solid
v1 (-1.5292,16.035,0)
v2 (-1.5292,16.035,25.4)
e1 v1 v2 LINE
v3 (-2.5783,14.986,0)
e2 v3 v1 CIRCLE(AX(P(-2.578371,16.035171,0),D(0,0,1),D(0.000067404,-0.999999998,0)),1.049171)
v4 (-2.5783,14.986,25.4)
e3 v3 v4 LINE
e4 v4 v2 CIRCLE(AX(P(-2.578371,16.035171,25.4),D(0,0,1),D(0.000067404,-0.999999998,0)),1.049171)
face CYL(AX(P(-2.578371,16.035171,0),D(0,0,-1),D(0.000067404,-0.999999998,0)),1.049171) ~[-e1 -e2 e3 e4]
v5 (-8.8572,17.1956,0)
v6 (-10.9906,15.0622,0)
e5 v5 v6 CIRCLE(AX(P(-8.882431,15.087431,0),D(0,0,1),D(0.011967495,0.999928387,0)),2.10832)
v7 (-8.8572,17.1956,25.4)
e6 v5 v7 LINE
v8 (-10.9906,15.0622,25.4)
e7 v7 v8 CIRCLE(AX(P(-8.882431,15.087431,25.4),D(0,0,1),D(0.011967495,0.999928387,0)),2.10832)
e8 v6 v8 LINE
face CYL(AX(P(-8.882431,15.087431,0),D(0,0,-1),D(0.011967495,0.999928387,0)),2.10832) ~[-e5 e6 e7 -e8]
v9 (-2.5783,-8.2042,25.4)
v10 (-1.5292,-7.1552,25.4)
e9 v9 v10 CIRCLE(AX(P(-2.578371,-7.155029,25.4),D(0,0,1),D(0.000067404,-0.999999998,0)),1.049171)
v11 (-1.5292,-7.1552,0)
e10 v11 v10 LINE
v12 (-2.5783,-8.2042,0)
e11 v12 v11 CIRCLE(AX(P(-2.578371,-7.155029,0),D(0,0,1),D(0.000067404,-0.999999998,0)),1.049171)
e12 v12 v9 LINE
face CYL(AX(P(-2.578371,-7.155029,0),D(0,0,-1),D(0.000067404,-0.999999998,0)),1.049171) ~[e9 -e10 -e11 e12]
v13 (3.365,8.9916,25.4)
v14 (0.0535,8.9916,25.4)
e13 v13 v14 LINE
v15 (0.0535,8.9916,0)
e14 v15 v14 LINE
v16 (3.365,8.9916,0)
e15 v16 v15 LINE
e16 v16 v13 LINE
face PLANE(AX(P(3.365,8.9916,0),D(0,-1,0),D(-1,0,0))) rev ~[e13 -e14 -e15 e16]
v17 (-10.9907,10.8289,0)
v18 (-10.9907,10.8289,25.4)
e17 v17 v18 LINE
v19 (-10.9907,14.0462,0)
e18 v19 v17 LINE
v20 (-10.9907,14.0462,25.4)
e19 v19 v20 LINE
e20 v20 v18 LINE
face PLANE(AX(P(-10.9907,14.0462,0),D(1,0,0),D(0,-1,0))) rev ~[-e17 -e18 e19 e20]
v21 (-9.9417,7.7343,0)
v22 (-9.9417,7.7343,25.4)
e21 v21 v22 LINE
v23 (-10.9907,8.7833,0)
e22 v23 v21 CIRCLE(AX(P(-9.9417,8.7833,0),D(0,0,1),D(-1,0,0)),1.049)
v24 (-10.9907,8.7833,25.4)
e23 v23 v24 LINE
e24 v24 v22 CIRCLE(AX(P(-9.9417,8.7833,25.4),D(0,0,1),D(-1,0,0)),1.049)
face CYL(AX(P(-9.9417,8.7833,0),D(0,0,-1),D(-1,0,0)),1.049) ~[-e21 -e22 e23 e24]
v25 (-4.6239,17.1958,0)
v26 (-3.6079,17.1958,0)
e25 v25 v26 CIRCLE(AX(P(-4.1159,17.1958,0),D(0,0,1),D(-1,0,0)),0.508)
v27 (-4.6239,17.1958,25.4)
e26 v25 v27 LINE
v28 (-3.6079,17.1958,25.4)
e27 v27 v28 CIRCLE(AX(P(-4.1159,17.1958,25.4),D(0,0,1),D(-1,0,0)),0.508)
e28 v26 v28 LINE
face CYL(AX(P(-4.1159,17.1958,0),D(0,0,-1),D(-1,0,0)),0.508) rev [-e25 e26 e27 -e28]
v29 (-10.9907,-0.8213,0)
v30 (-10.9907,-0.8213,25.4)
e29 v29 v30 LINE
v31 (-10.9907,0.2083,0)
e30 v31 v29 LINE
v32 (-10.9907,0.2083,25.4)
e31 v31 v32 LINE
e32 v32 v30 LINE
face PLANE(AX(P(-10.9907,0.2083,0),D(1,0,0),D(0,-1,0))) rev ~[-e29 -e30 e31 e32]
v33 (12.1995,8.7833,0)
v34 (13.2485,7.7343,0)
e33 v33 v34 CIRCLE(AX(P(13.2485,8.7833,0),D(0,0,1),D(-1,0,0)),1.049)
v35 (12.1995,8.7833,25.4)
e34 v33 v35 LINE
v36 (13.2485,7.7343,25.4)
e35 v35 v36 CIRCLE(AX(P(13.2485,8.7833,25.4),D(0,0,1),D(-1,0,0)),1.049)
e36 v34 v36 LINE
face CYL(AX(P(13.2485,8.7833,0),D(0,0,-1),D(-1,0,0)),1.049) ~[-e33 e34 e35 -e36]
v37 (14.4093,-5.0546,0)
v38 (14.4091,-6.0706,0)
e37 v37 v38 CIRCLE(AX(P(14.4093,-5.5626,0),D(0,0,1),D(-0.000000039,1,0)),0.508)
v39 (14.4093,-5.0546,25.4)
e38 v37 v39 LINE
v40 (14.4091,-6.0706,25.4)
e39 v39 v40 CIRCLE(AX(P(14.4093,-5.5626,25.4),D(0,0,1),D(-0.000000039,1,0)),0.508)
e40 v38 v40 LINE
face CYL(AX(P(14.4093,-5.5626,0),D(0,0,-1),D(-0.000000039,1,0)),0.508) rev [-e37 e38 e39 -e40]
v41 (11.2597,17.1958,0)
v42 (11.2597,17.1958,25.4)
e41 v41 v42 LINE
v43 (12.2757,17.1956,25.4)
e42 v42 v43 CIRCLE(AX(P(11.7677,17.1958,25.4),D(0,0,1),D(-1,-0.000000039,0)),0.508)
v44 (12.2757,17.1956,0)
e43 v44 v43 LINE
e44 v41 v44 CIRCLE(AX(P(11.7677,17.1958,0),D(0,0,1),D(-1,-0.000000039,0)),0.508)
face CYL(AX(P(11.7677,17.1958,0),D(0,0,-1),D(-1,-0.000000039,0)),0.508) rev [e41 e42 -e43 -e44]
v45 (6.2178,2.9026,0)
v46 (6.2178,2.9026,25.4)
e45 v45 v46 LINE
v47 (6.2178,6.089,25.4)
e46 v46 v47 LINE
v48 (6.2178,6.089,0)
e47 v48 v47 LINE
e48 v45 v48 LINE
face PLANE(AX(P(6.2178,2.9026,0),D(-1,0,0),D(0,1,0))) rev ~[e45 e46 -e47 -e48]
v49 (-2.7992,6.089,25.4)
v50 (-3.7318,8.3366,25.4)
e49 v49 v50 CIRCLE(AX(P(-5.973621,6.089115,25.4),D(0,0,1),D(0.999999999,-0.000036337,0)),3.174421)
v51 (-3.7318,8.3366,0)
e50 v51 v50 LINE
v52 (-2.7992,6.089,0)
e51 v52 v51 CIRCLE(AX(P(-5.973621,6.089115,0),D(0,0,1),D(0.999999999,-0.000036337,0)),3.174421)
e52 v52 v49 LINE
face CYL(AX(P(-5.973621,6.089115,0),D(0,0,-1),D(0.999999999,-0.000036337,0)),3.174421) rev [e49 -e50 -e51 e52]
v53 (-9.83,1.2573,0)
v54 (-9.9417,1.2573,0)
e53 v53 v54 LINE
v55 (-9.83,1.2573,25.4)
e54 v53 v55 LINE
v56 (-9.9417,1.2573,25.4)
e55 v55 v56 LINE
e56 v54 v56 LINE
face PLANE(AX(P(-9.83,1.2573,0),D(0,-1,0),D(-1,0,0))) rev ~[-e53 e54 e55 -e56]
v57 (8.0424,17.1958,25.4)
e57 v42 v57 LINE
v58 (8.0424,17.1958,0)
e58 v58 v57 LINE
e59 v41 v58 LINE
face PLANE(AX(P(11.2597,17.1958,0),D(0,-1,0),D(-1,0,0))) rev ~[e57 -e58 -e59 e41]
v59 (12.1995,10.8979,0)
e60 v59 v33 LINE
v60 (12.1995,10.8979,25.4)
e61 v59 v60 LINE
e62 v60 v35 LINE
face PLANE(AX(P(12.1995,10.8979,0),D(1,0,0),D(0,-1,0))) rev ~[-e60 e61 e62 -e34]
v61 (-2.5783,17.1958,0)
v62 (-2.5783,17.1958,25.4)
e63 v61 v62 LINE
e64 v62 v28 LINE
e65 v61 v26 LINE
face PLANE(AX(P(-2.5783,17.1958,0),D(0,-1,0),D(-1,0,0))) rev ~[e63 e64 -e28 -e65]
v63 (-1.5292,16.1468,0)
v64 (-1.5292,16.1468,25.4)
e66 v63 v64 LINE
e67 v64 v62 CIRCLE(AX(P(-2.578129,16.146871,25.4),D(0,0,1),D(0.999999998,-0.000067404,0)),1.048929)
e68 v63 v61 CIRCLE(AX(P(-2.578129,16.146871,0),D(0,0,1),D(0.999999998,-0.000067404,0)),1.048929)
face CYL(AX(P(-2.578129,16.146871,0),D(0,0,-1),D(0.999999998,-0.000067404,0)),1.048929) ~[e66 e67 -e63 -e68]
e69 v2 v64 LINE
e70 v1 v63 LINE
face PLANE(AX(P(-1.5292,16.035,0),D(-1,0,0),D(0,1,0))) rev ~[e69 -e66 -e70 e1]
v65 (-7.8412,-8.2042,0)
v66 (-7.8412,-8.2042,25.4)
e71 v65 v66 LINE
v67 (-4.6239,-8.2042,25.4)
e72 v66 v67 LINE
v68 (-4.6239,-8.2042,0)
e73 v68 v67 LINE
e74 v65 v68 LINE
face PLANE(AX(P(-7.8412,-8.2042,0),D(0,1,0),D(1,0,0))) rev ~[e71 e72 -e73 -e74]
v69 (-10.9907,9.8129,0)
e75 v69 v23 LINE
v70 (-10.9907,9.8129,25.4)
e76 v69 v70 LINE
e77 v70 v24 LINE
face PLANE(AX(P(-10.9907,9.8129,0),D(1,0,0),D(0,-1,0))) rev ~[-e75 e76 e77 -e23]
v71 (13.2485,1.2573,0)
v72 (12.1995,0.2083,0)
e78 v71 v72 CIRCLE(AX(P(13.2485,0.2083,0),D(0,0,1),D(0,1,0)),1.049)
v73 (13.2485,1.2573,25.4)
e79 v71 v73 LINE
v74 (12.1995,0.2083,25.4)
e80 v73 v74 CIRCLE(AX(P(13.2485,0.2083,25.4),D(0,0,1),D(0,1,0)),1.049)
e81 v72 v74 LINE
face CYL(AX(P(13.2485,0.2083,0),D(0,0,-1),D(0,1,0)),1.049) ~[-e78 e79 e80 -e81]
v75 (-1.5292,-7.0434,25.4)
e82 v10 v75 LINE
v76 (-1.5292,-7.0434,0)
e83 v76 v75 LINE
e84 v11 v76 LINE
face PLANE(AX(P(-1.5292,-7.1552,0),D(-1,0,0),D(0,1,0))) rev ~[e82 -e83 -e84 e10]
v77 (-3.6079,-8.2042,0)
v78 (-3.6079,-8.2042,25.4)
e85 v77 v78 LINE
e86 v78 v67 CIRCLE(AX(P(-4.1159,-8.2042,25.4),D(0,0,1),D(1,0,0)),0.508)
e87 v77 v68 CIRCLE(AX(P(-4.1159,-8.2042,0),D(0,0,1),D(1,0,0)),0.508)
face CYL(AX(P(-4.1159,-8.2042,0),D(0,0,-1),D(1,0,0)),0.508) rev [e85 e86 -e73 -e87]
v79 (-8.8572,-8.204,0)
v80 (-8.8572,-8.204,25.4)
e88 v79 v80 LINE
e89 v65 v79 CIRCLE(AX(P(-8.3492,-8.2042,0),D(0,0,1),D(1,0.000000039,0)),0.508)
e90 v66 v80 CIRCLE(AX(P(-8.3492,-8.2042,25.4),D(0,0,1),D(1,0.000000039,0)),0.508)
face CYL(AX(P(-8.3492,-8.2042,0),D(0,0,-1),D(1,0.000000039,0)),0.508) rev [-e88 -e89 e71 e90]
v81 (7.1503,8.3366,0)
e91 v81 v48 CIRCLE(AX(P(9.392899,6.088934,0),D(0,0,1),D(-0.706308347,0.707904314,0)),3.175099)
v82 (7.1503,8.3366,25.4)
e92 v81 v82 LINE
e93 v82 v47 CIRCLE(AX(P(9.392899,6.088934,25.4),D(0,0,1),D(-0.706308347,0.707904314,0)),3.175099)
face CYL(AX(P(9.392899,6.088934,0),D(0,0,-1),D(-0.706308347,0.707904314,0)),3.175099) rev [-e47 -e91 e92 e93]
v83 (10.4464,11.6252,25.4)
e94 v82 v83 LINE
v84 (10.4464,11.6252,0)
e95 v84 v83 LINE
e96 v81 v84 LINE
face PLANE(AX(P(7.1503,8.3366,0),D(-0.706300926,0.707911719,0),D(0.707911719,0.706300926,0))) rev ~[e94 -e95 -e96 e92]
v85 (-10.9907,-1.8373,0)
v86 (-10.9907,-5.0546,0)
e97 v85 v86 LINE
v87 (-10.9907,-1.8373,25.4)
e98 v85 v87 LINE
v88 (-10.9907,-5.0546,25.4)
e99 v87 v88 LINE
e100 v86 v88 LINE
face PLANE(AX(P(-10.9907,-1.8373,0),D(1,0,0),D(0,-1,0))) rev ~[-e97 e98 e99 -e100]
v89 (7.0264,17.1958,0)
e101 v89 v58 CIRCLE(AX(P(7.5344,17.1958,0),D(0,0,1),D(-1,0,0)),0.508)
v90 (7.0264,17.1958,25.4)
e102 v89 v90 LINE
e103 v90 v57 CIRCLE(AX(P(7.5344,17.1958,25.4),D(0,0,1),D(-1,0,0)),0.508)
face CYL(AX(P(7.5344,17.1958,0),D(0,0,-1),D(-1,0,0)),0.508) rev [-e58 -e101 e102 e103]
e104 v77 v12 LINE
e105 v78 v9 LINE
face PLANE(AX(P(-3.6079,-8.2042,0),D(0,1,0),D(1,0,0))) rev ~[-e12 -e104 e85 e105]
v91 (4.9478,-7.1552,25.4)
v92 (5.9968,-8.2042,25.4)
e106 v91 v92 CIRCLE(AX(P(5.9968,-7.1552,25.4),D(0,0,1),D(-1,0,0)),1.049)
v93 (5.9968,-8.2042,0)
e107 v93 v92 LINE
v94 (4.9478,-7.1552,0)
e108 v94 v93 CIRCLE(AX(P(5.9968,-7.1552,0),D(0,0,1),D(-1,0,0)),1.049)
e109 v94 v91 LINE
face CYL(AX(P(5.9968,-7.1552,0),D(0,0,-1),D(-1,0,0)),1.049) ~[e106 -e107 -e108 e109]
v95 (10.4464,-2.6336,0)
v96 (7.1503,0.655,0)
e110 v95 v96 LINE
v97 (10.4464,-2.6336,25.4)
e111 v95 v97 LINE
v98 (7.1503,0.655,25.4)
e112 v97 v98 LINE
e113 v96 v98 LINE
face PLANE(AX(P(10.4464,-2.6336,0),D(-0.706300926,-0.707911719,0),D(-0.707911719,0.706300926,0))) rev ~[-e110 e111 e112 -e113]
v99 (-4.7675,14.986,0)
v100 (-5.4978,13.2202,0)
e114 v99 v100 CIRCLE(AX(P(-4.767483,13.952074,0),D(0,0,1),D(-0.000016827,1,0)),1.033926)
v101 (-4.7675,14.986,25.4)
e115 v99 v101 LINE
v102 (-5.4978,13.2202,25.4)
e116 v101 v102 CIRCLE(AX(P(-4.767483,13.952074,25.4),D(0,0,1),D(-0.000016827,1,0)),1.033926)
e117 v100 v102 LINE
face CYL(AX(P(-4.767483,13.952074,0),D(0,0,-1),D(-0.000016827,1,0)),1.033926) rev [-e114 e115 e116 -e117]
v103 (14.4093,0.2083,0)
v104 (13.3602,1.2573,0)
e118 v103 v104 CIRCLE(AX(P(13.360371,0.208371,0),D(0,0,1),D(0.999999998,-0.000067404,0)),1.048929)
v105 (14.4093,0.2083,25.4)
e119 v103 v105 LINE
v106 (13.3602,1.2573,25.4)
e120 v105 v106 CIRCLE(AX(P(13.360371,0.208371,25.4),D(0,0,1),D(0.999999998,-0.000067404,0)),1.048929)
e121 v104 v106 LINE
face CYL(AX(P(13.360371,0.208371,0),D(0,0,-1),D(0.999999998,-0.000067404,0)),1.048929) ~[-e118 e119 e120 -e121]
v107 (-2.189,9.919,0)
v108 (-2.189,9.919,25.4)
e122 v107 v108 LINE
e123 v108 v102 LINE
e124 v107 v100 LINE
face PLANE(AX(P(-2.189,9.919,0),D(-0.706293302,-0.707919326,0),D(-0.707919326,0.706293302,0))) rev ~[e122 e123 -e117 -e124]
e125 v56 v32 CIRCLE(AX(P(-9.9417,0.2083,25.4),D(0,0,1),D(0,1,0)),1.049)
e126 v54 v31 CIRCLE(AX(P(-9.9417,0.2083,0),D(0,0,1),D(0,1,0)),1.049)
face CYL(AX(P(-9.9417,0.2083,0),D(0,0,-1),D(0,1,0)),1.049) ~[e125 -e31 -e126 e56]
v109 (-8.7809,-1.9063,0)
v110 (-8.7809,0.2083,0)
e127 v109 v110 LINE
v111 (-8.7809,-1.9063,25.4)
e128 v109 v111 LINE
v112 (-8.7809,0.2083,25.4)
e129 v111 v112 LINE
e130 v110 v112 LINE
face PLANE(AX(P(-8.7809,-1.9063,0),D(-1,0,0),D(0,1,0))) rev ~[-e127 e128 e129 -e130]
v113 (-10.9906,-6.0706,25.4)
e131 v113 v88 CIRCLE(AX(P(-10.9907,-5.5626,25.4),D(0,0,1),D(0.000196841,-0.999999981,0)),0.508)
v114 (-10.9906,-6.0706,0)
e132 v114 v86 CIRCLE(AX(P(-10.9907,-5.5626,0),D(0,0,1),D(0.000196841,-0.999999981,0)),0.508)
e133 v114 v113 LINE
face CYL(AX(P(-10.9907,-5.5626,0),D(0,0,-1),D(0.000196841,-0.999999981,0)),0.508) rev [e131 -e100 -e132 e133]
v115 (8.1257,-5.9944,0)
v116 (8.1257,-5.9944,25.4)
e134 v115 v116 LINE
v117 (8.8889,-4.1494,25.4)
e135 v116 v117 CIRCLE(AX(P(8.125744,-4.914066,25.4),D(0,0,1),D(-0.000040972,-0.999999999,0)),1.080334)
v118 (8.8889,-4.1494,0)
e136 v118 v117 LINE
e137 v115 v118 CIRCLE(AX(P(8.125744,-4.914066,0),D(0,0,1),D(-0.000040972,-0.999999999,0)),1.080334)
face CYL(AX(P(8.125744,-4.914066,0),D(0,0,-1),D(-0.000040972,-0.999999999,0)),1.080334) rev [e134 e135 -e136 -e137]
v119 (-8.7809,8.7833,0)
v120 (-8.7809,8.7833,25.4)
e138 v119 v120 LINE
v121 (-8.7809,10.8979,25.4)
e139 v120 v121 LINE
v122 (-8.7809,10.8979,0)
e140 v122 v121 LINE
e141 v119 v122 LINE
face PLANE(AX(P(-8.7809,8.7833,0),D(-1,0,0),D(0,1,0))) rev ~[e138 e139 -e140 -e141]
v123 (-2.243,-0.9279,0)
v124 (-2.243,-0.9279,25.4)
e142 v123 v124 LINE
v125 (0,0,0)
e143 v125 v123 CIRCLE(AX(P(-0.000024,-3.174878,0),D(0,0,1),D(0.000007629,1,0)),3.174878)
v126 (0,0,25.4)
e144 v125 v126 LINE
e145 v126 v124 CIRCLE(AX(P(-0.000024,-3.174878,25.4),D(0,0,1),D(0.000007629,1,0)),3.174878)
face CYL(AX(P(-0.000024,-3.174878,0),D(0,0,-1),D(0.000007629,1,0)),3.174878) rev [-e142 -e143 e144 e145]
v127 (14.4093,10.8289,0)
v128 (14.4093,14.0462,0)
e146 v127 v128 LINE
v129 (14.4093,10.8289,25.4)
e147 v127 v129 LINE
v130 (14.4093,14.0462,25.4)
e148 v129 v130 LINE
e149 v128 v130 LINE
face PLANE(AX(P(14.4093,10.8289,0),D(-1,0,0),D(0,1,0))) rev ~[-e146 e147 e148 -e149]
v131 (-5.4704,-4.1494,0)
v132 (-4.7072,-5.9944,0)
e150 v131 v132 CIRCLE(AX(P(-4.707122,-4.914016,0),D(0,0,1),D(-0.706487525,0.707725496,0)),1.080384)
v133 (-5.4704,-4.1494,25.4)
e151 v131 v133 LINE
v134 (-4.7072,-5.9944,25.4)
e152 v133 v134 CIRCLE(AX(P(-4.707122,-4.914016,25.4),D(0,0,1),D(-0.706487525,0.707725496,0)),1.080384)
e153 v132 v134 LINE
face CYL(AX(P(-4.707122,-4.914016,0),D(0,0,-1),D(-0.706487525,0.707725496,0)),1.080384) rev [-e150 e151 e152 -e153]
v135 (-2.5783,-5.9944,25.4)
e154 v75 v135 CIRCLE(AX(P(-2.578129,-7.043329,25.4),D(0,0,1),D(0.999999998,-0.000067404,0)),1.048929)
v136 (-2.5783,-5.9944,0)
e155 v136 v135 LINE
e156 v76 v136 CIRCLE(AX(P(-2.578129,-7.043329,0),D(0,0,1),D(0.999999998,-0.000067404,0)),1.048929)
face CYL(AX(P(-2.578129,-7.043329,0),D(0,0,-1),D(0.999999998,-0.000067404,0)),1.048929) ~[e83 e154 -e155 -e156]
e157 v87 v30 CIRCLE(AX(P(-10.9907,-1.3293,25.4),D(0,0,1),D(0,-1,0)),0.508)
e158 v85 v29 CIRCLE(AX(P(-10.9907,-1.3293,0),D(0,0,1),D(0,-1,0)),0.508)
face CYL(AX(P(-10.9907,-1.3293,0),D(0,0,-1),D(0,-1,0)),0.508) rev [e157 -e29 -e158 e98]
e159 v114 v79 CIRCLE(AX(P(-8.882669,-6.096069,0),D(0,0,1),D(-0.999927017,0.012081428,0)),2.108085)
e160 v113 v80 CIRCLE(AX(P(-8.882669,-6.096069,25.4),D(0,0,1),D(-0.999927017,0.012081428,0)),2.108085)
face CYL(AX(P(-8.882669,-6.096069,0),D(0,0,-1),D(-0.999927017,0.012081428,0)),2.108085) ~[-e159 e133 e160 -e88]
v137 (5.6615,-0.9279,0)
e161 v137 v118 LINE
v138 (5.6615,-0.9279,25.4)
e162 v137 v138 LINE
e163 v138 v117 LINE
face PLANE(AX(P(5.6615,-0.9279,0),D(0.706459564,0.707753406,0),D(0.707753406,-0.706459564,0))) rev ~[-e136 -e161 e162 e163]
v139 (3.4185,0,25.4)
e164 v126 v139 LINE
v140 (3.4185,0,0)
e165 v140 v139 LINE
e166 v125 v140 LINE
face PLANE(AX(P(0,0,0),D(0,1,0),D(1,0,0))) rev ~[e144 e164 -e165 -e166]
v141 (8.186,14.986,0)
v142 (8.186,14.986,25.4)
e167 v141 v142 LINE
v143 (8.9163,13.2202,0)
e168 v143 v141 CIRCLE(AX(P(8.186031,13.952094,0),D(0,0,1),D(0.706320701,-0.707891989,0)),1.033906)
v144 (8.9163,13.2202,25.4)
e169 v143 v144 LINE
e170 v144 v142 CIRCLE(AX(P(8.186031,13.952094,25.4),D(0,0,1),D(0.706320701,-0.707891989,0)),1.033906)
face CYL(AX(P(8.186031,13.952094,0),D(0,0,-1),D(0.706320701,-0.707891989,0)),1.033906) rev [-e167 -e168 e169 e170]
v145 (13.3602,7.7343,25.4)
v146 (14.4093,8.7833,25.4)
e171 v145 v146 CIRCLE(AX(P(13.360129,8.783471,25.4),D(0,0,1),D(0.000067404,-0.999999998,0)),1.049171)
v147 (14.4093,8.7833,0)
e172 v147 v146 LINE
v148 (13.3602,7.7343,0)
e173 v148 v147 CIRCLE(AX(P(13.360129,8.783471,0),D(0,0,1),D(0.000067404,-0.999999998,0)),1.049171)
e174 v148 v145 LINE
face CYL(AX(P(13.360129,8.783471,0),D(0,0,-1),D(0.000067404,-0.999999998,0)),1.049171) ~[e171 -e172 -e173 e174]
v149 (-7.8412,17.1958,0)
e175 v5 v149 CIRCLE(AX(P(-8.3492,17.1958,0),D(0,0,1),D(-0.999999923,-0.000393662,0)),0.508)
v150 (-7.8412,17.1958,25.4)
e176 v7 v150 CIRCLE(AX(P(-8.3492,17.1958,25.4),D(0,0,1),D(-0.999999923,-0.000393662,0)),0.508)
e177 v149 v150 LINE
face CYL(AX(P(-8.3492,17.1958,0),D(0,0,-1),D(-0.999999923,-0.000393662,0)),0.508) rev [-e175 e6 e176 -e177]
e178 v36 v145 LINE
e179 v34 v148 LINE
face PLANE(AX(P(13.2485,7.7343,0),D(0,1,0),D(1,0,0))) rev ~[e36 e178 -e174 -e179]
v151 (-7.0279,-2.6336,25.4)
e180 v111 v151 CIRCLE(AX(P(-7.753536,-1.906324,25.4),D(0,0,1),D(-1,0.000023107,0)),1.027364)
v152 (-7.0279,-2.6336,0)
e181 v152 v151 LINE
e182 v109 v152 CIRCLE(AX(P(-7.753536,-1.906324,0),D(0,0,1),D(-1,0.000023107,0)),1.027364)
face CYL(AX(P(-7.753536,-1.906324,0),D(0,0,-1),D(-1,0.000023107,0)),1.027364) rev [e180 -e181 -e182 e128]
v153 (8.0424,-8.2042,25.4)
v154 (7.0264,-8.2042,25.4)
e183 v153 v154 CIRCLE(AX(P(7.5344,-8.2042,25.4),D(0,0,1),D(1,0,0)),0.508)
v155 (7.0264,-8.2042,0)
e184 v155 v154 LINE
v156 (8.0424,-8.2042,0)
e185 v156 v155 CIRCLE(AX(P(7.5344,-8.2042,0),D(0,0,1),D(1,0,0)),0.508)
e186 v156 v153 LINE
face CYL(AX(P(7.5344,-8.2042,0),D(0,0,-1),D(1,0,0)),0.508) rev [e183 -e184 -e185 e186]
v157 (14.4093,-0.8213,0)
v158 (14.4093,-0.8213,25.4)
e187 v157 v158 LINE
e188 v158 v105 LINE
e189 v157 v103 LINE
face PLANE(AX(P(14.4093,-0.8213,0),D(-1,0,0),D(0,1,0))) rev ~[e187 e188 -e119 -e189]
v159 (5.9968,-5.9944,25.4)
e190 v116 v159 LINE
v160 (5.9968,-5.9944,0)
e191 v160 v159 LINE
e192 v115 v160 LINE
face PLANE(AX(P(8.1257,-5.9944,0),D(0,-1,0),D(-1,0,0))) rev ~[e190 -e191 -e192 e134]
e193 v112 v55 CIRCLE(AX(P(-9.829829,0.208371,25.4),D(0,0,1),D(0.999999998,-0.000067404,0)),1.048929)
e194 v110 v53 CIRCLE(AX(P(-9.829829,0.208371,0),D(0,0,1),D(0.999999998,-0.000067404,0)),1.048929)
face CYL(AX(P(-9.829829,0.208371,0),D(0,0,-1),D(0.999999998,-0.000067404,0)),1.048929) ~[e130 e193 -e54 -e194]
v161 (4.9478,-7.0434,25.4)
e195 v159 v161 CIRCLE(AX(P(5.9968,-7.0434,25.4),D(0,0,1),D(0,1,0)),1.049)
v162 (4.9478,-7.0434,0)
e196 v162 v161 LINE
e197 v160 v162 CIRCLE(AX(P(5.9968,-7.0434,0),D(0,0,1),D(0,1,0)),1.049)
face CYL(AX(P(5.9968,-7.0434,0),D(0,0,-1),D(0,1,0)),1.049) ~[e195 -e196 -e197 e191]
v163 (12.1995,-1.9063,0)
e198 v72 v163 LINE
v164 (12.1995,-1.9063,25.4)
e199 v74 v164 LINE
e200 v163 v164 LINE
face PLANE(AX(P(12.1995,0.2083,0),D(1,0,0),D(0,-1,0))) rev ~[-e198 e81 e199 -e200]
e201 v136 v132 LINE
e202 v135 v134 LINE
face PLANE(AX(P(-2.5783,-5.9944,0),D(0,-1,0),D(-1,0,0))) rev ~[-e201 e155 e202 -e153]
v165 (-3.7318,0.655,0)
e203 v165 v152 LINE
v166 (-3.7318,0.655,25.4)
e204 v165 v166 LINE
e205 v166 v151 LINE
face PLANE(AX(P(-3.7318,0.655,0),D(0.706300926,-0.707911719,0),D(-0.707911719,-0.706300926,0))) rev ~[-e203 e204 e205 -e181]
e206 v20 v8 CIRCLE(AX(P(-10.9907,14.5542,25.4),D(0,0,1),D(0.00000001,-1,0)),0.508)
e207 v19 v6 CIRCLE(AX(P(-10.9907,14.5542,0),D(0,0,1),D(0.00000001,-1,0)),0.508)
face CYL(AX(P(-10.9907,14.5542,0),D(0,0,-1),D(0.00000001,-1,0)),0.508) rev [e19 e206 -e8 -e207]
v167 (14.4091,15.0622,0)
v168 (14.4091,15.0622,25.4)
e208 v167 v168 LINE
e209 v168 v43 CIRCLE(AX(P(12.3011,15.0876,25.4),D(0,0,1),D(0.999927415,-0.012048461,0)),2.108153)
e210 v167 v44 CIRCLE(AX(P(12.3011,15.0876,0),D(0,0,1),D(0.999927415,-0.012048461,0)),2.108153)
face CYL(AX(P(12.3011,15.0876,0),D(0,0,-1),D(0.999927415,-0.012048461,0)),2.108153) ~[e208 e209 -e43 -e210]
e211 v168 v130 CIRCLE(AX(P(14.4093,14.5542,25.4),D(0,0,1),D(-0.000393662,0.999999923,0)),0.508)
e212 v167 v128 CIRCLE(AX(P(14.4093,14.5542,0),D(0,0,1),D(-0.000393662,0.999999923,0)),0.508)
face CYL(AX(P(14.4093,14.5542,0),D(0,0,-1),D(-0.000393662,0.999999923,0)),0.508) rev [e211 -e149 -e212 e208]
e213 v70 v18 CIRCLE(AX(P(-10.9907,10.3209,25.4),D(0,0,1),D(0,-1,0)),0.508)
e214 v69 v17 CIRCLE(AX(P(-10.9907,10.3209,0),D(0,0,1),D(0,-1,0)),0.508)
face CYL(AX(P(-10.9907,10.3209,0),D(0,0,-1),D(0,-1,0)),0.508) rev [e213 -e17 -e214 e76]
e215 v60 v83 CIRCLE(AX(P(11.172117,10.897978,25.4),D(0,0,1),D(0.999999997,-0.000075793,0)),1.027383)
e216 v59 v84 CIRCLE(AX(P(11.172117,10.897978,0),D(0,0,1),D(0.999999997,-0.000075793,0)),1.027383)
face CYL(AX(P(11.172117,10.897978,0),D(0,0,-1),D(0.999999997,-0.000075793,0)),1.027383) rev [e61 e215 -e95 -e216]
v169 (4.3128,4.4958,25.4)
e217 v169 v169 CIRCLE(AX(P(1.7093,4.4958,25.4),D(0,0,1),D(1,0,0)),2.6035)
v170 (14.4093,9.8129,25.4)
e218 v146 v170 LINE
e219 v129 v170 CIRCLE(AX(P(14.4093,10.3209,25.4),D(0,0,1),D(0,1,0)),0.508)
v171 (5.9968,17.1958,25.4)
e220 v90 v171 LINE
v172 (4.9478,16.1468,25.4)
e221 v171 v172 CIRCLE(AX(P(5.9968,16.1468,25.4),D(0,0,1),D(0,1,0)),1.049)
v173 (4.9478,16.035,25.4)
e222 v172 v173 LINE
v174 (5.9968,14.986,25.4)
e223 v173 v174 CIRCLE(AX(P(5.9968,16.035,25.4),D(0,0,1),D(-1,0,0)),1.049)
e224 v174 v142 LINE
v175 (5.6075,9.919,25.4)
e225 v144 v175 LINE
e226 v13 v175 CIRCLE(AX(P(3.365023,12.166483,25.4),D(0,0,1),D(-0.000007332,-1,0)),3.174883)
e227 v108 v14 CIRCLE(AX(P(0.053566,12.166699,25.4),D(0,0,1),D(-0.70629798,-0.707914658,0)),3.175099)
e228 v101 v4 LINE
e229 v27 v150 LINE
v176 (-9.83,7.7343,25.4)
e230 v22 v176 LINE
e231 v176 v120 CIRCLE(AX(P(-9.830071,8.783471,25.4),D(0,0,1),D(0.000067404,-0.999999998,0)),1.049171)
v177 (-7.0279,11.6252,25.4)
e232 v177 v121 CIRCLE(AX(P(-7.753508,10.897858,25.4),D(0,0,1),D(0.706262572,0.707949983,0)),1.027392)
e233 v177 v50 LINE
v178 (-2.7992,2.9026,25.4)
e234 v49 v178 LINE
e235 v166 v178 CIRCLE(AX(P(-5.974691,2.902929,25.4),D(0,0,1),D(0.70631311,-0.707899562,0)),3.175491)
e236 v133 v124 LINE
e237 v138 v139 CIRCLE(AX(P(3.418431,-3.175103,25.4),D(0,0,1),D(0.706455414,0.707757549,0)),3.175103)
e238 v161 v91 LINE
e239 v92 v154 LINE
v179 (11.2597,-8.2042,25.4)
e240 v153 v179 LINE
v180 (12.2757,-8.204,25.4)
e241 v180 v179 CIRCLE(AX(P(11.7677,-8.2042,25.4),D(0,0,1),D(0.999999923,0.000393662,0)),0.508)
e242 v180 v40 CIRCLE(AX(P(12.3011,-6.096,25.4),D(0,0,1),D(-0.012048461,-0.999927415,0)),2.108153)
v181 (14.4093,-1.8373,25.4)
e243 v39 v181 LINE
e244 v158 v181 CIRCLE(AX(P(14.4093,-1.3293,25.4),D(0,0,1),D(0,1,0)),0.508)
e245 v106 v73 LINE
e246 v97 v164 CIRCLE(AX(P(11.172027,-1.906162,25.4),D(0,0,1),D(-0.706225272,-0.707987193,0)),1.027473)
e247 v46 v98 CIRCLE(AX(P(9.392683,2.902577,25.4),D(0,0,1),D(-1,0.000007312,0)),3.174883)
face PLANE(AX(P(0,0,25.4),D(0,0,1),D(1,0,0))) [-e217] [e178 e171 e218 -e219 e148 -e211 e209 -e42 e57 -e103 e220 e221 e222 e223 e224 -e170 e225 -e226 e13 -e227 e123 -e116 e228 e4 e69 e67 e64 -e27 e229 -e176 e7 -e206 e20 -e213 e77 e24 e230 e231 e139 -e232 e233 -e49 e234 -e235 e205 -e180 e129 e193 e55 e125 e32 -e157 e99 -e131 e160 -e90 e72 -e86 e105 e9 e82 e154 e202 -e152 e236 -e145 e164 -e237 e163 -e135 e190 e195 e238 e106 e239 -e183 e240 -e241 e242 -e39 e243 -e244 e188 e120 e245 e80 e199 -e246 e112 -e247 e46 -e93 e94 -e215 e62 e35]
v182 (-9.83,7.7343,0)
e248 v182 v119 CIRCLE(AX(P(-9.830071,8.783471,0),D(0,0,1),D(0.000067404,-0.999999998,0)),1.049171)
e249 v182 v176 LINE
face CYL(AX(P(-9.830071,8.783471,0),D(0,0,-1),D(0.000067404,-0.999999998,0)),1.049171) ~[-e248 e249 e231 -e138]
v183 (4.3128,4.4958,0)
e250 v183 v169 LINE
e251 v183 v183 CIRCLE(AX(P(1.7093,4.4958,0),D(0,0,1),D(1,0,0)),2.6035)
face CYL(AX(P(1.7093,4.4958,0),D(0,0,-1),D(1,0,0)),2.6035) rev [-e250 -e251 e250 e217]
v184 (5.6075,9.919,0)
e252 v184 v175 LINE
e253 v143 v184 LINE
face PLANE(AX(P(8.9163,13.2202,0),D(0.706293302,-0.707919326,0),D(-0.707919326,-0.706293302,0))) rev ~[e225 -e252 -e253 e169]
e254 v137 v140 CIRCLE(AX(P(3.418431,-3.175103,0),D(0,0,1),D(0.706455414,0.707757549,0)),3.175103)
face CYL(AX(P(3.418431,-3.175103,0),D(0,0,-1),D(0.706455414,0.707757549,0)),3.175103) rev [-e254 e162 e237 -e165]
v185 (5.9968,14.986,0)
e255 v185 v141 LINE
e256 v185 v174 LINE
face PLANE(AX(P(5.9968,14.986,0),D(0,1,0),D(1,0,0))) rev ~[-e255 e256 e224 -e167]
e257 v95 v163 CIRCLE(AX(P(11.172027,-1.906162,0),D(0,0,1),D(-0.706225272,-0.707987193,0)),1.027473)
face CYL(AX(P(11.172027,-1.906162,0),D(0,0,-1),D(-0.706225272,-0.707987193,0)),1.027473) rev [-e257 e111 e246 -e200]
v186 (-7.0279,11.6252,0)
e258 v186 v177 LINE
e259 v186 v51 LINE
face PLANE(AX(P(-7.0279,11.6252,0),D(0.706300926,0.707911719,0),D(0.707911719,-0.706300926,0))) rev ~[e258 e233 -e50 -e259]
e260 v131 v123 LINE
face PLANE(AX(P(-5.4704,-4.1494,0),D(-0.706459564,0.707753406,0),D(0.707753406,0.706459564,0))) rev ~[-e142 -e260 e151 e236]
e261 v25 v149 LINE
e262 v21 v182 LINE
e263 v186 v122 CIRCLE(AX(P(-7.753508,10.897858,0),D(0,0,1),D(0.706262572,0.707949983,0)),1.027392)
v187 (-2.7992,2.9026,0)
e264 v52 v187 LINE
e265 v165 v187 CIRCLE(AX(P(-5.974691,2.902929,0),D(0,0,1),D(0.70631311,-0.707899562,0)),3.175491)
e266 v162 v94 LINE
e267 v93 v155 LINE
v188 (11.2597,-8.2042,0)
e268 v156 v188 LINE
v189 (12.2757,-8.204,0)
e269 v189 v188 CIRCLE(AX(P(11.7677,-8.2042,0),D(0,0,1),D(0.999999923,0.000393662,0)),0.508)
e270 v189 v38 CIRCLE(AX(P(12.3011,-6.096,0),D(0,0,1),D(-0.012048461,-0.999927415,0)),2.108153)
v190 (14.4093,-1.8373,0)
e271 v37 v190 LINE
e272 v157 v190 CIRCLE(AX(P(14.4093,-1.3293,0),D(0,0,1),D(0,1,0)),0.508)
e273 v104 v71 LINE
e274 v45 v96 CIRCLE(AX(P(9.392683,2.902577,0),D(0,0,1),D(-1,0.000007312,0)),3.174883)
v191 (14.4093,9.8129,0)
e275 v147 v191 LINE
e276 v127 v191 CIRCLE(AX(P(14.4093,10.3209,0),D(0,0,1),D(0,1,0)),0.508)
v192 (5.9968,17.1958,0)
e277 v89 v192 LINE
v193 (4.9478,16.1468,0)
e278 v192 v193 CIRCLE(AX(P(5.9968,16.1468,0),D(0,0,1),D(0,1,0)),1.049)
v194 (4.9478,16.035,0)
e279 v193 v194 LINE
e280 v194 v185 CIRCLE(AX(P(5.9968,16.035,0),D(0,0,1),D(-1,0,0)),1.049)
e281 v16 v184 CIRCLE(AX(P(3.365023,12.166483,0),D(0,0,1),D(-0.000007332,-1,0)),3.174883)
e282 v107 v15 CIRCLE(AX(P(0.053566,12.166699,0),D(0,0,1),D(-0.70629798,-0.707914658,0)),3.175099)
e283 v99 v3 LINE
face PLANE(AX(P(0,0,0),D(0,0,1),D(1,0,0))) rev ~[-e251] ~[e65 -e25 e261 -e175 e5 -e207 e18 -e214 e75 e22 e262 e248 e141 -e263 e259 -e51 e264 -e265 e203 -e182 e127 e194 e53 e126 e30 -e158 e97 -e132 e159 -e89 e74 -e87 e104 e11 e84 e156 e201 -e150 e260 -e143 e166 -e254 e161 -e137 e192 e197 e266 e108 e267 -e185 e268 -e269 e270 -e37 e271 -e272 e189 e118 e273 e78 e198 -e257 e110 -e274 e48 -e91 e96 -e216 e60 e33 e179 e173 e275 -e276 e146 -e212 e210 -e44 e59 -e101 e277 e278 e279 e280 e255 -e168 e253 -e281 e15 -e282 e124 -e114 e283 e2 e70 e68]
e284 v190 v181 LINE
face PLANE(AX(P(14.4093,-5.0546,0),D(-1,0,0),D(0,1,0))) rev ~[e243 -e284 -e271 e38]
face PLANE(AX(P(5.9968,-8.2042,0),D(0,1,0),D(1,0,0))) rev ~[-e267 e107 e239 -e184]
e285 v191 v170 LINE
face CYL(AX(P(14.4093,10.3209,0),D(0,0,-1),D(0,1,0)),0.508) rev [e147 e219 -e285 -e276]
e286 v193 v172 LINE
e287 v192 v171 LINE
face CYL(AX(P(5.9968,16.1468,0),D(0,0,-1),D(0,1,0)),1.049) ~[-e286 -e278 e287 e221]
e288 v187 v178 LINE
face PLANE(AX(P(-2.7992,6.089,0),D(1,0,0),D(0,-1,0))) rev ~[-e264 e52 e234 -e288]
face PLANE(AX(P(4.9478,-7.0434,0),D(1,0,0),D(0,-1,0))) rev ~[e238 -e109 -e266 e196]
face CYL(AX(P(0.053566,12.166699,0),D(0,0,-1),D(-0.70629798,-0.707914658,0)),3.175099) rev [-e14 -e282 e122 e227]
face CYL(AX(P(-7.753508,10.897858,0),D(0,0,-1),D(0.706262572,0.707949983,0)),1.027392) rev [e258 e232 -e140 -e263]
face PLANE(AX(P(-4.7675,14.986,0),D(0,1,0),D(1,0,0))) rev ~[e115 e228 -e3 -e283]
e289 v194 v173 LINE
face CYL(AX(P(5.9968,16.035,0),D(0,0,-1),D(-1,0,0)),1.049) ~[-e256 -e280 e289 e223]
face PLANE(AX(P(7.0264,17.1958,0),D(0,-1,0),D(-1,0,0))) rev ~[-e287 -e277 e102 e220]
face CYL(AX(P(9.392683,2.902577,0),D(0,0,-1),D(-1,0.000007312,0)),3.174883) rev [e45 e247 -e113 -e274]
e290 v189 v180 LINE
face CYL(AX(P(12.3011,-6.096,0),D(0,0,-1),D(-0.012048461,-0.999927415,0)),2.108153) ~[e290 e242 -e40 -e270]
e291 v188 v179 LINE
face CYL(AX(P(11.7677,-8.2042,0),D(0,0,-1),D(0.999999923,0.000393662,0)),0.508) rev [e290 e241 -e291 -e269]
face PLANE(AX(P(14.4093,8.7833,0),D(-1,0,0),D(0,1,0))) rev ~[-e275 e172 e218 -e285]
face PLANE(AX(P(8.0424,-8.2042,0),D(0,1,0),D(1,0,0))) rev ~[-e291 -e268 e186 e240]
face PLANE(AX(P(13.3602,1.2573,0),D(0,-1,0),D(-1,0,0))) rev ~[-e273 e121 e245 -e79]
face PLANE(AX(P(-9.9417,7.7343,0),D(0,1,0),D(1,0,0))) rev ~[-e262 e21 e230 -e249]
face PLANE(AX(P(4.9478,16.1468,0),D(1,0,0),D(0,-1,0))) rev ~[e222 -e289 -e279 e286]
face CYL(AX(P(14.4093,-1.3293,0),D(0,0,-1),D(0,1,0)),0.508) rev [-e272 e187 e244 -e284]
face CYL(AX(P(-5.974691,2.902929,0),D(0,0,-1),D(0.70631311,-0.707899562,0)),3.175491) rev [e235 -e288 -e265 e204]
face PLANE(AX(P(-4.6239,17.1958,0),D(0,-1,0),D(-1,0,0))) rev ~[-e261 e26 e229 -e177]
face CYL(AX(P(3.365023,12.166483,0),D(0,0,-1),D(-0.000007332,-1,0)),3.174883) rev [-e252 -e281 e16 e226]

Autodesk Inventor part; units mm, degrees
ref_plane "YZ Plane" through (0, 0, 0) normal (1, 0, 0) x (0, 1, 0)
ref_plane "XZ Plane" through (0, 0, 0) normal (0, 1, 0) x (-1, 0, 0)
ref_plane "XY Plane" through (0, 0, 0) normal (0, 0, 1) x (1, 0, 0)
sketch "Sketch1" plane through (0, 0, 0) normal (0, 0, 1) x (1, 0, 0)
  arc A0 (-5.4704, -4.1494) -> (-4.7072, -5.9944) centre (-4.7072, -4.914) ccw
  line L0 (-5.4704, -4.1494) -> (-2.243, -0.9279)
  arc A1 (0, 0) -> (-2.243, -0.9279) centre (0, -3.175) ccw
  line L1 (0, 0) -> (3.4185, 0)
  arc A2 (5.6615, -0.9279) -> (3.4185, 0) centre (3.4185, -3.175) ccw
  line L2 (5.6615, -0.9279) -> (8.8889, -4.1494)
  arc A3 (8.1257, -5.9944) -> (8.8889, -4.1494) centre (8.1257, -4.914) ccw
  line L3 (8.1257, -5.9944) -> (5.9968, -5.9944)
  arc A4 (5.9968, -5.9944) -> (4.9478, -7.0434) centre (5.9968, -7.0434) ccw
  line L4 (4.9478, -7.0434) -> (4.9478, -7.1552)
  arc A5 (4.9478, -7.1552) -> (5.9968, -8.2042) centre (5.9968, -7.1552) ccw
  line L5 (5.9968, -8.2042) -> (7.0264, -8.2042)
  arc A6 (8.0424, -8.2042) -> (7.0264, -8.2042) centre (7.5344, -8.2042) ccw
  line L6 (8.0424, -8.2042) -> (11.2597, -8.2042)
  arc A7 (12.2757, -8.204) -> (11.2597, -8.2042) centre (11.7677, -8.2042) ccw
  arc A8 (12.2757, -8.204) -> (14.4091, -6.0706) centre (12.3011, -6.096) ccw
  arc A9 (14.4093, -5.0546) -> (14.4091, -6.0706) centre (14.4093, -5.5626) ccw
  line L7 (14.4093, -5.0546) -> (14.4093, -1.8373)
  arc A10 (14.4093, -0.8213) -> (14.4093, -1.8373) centre (14.4093, -1.3293) ccw
  line L8 (14.4093, -0.8213) -> (14.4093, 0.2083)
  arc A11 (14.4093, 0.2083) -> (13.3602, 1.2573) centre (13.3602, 0.2083) ccw
  line L9 (13.3602, 1.2573) -> (13.2485, 1.2573)
  arc A12 (13.2485, 1.2573) -> (12.1995, 0.2083) centre (13.2485, 0.2083) ccw
  line L10 (12.1995, 0.2083) -> (12.1995, -1.9063)
  arc A13 (10.4464, -2.6336) -> (12.1995, -1.9063) centre (11.172, -1.9063) ccw
  line L11 (10.4464, -2.6336) -> (7.1503, 0.655)
  arc A14 (6.2178, 2.9026) -> (7.1503, 0.655) centre (9.3928, 2.9026) ccw
  line L12 (6.2178, 2.9026) -> (6.2178, 6.089)
  arc A15 (7.1503, 8.3366) -> (6.2178, 6.089) centre (9.3928, 6.089) ccw
  line L13 (7.1503, 8.3366) -> (10.4464, 11.6252)
  arc A16 (12.1995, 10.8979) -> (10.4464, 11.6252) centre (11.172, 10.8979) ccw
  line L14 (12.1995, 10.8979) -> (12.1995, 8.7833)
  arc A17 (12.1995, 8.7833) -> (13.2485, 7.7343) centre (13.2485, 8.7833) ccw
  line L15 (13.2485, 7.7343) -> (13.3602, 7.7343)
  arc A18 (13.3602, 7.7343) -> (14.4093, 8.7833) centre (13.3602, 8.7833) ccw
  line L16 (14.4093, 8.7833) -> (14.4093, 9.8129)
  arc A19 (14.4093, 10.8289) -> (14.4093, 9.8129) centre (14.4093, 10.3209) ccw
  line L17 (14.4093, 10.8289) -> (14.4093, 14.0462)
  arc A20 (14.4091, 15.0622) -> (14.4093, 14.0462) centre (14.4093, 14.5542) ccw
  arc A21 (14.4091, 15.0622) -> (12.2757, 17.1956) centre (12.3011, 15.0876) ccw
  arc A22 (11.2597, 17.1958) -> (12.2757, 17.1956) centre (11.7677, 17.1958) ccw
  line L18 (11.2597, 17.1958) -> (8.0424, 17.1958)
  arc A23 (7.0264, 17.1958) -> (8.0424, 17.1958) centre (7.5344, 17.1958) ccw
  line L19 (7.0264, 17.1958) -> (5.9968, 17.1958)
  arc A24 (5.9968, 17.1958) -> (4.9478, 16.1468) centre (5.9968, 16.1468) ccw
  line L20 (4.9478, 16.1468) -> (4.9478, 16.035)
  arc A25 (4.9478, 16.035) -> (5.9968, 14.986) centre (5.9968, 16.035) ccw
  line L21 (5.9968, 14.986) -> (8.186, 14.986)
  arc A26 (8.9163, 13.2202) -> (8.186, 14.986) centre (8.186, 13.9521) ccw
  line L22 (8.9163, 13.2202) -> (5.6075, 9.919)
  arc A27 (3.365, 8.9916) -> (5.6075, 9.919) centre (3.365, 12.1666) ccw
  line L23 (3.365, 8.9916) -> (0.0535, 8.9916)
  arc A28 (-2.189, 9.919) -> (0.0535, 8.9916) centre (0.0535, 12.1666) ccw
  line L24 (-2.189, 9.919) -> (-5.4978, 13.2202)
  arc A29 (-4.7675, 14.986) -> (-5.4978, 13.2202) centre (-4.7675, 13.9521) ccw
  line L25 (-4.7675, 14.986) -> (-2.5783, 14.986)
  arc A30 (-2.5783, 14.986) -> (-1.5292, 16.035) centre (-2.5783, 16.035) ccw
  line L26 (-1.5292, 16.035) -> (-1.5292, 16.1468)
  arc A31 (-1.5292, 16.1468) -> (-2.5783, 17.1958) centre (-2.5783, 16.1468) ccw
  line L27 (-2.5783, 17.1958) -> (-3.6079, 17.1958)
  arc A32 (-4.6239, 17.1958) -> (-3.6079, 17.1958) centre (-4.1159, 17.1958) ccw
  line L28 (-4.6239, 17.1958) -> (-7.8412, 17.1958)
  arc A33 (-8.8572, 17.1956) -> (-7.8412, 17.1958) centre (-8.3492, 17.1958) ccw
  arc A34 (-8.8572, 17.1956) -> (-10.9906, 15.0622) centre (-8.8825, 15.0876) ccw
  arc A35 (-10.9907, 14.0462) -> (-10.9906, 15.0622) centre (-10.9907, 14.5542) ccw
  line L29 (-10.9907, 14.0462) -> (-10.9907, 10.8289)
  arc A36 (-10.9907, 9.8129) -> (-10.9907, 10.8289) centre (-10.9907, 10.3209) ccw
  line L30 (-10.9907, 9.8129) -> (-10.9907, 8.7833)
  arc A37 (-10.9907, 8.7833) -> (-9.9417, 7.7343) centre (-9.9417, 8.7833) ccw
  line L31 (-9.9417, 7.7343) -> (-9.83, 7.7343)
  arc A38 (-9.83, 7.7343) -> (-8.7809, 8.7833) centre (-9.83, 8.7833) ccw
  line L32 (-8.7809, 8.7833) -> (-8.7809, 10.8979)
  arc A39 (-7.0279, 11.6252) -> (-8.7809, 10.8979) centre (-7.7535, 10.8979) ccw
  line L33 (-7.0279, 11.6252) -> (-3.7318, 8.3366)
  arc A40 (-2.7992, 6.089) -> (-3.7318, 8.3366) centre (-5.9742, 6.089) ccw
  line L34 (-2.7992, 6.089) -> (-2.7992, 2.9026)
  arc A41 (-3.7318, 0.655) -> (-2.7992, 2.9026) centre (-5.9742, 2.9026) ccw
  line L35 (-3.7318, 0.655) -> (-7.0279, -2.6336)
  arc A42 (-8.7809, -1.9063) -> (-7.0279, -2.6336) centre (-7.7535, -1.9063) ccw
  line L36 (-8.7809, -1.9063) -> (-8.7809, 0.2083)
  arc A43 (-8.7809, 0.2083) -> (-9.83, 1.2573) centre (-9.83, 0.2083) ccw
  line L37 (-9.83, 1.2573) -> (-9.9417, 1.2573)
  arc A44 (-9.9417, 1.2573) -> (-10.9907, 0.2083) centre (-9.9417, 0.2083) ccw
  line L38 (-10.9907, 0.2083) -> (-10.9907, -0.8213)
  arc A45 (-10.9907, -1.8373) -> (-10.9907, -0.8213) centre (-10.9907, -1.3293) ccw
  line L39 (-10.9907, -1.8373) -> (-10.9907, -5.0546)
  arc A46 (-10.9906, -6.0706) -> (-10.9907, -5.0546) centre (-10.9907, -5.5626) ccw
  arc A47 (-10.9906, -6.0706) -> (-8.8572, -8.204) centre (-8.8825, -6.096) ccw
  arc A48 (-7.8412, -8.2042) -> (-8.8572, -8.204) centre (-8.3492, -8.2042) ccw
  line L40 (-7.8412, -8.2042) -> (-4.6239, -8.2042)
  arc A49 (-3.6079, -8.2042) -> (-4.6239, -8.2042) centre (-4.1159, -8.2042) ccw
  line L41 (-3.6079, -8.2042) -> (-2.5783, -8.2042)
  arc A50 (-2.5783, -8.2042) -> (-1.5292, -7.1552) centre (-2.5783, -7.1552) ccw
  line L42 (-1.5292, -7.1552) -> (-1.5292, -7.0434)
  arc A51 (-1.5292, -7.0434) -> (-2.5783, -5.9944) centre (-2.5783, -7.0434) ccw
  line L43 (-2.5783, -5.9944) -> (-4.7072, -5.9944)
  circle A52 centre (1.7093, 4.4958) radius 2.6035
extrude "Extrusion1" add sketch "Sketch1" along normal blind 25.4
properties part number "1in 1x1 T slot" material "Steel, Alloy"
